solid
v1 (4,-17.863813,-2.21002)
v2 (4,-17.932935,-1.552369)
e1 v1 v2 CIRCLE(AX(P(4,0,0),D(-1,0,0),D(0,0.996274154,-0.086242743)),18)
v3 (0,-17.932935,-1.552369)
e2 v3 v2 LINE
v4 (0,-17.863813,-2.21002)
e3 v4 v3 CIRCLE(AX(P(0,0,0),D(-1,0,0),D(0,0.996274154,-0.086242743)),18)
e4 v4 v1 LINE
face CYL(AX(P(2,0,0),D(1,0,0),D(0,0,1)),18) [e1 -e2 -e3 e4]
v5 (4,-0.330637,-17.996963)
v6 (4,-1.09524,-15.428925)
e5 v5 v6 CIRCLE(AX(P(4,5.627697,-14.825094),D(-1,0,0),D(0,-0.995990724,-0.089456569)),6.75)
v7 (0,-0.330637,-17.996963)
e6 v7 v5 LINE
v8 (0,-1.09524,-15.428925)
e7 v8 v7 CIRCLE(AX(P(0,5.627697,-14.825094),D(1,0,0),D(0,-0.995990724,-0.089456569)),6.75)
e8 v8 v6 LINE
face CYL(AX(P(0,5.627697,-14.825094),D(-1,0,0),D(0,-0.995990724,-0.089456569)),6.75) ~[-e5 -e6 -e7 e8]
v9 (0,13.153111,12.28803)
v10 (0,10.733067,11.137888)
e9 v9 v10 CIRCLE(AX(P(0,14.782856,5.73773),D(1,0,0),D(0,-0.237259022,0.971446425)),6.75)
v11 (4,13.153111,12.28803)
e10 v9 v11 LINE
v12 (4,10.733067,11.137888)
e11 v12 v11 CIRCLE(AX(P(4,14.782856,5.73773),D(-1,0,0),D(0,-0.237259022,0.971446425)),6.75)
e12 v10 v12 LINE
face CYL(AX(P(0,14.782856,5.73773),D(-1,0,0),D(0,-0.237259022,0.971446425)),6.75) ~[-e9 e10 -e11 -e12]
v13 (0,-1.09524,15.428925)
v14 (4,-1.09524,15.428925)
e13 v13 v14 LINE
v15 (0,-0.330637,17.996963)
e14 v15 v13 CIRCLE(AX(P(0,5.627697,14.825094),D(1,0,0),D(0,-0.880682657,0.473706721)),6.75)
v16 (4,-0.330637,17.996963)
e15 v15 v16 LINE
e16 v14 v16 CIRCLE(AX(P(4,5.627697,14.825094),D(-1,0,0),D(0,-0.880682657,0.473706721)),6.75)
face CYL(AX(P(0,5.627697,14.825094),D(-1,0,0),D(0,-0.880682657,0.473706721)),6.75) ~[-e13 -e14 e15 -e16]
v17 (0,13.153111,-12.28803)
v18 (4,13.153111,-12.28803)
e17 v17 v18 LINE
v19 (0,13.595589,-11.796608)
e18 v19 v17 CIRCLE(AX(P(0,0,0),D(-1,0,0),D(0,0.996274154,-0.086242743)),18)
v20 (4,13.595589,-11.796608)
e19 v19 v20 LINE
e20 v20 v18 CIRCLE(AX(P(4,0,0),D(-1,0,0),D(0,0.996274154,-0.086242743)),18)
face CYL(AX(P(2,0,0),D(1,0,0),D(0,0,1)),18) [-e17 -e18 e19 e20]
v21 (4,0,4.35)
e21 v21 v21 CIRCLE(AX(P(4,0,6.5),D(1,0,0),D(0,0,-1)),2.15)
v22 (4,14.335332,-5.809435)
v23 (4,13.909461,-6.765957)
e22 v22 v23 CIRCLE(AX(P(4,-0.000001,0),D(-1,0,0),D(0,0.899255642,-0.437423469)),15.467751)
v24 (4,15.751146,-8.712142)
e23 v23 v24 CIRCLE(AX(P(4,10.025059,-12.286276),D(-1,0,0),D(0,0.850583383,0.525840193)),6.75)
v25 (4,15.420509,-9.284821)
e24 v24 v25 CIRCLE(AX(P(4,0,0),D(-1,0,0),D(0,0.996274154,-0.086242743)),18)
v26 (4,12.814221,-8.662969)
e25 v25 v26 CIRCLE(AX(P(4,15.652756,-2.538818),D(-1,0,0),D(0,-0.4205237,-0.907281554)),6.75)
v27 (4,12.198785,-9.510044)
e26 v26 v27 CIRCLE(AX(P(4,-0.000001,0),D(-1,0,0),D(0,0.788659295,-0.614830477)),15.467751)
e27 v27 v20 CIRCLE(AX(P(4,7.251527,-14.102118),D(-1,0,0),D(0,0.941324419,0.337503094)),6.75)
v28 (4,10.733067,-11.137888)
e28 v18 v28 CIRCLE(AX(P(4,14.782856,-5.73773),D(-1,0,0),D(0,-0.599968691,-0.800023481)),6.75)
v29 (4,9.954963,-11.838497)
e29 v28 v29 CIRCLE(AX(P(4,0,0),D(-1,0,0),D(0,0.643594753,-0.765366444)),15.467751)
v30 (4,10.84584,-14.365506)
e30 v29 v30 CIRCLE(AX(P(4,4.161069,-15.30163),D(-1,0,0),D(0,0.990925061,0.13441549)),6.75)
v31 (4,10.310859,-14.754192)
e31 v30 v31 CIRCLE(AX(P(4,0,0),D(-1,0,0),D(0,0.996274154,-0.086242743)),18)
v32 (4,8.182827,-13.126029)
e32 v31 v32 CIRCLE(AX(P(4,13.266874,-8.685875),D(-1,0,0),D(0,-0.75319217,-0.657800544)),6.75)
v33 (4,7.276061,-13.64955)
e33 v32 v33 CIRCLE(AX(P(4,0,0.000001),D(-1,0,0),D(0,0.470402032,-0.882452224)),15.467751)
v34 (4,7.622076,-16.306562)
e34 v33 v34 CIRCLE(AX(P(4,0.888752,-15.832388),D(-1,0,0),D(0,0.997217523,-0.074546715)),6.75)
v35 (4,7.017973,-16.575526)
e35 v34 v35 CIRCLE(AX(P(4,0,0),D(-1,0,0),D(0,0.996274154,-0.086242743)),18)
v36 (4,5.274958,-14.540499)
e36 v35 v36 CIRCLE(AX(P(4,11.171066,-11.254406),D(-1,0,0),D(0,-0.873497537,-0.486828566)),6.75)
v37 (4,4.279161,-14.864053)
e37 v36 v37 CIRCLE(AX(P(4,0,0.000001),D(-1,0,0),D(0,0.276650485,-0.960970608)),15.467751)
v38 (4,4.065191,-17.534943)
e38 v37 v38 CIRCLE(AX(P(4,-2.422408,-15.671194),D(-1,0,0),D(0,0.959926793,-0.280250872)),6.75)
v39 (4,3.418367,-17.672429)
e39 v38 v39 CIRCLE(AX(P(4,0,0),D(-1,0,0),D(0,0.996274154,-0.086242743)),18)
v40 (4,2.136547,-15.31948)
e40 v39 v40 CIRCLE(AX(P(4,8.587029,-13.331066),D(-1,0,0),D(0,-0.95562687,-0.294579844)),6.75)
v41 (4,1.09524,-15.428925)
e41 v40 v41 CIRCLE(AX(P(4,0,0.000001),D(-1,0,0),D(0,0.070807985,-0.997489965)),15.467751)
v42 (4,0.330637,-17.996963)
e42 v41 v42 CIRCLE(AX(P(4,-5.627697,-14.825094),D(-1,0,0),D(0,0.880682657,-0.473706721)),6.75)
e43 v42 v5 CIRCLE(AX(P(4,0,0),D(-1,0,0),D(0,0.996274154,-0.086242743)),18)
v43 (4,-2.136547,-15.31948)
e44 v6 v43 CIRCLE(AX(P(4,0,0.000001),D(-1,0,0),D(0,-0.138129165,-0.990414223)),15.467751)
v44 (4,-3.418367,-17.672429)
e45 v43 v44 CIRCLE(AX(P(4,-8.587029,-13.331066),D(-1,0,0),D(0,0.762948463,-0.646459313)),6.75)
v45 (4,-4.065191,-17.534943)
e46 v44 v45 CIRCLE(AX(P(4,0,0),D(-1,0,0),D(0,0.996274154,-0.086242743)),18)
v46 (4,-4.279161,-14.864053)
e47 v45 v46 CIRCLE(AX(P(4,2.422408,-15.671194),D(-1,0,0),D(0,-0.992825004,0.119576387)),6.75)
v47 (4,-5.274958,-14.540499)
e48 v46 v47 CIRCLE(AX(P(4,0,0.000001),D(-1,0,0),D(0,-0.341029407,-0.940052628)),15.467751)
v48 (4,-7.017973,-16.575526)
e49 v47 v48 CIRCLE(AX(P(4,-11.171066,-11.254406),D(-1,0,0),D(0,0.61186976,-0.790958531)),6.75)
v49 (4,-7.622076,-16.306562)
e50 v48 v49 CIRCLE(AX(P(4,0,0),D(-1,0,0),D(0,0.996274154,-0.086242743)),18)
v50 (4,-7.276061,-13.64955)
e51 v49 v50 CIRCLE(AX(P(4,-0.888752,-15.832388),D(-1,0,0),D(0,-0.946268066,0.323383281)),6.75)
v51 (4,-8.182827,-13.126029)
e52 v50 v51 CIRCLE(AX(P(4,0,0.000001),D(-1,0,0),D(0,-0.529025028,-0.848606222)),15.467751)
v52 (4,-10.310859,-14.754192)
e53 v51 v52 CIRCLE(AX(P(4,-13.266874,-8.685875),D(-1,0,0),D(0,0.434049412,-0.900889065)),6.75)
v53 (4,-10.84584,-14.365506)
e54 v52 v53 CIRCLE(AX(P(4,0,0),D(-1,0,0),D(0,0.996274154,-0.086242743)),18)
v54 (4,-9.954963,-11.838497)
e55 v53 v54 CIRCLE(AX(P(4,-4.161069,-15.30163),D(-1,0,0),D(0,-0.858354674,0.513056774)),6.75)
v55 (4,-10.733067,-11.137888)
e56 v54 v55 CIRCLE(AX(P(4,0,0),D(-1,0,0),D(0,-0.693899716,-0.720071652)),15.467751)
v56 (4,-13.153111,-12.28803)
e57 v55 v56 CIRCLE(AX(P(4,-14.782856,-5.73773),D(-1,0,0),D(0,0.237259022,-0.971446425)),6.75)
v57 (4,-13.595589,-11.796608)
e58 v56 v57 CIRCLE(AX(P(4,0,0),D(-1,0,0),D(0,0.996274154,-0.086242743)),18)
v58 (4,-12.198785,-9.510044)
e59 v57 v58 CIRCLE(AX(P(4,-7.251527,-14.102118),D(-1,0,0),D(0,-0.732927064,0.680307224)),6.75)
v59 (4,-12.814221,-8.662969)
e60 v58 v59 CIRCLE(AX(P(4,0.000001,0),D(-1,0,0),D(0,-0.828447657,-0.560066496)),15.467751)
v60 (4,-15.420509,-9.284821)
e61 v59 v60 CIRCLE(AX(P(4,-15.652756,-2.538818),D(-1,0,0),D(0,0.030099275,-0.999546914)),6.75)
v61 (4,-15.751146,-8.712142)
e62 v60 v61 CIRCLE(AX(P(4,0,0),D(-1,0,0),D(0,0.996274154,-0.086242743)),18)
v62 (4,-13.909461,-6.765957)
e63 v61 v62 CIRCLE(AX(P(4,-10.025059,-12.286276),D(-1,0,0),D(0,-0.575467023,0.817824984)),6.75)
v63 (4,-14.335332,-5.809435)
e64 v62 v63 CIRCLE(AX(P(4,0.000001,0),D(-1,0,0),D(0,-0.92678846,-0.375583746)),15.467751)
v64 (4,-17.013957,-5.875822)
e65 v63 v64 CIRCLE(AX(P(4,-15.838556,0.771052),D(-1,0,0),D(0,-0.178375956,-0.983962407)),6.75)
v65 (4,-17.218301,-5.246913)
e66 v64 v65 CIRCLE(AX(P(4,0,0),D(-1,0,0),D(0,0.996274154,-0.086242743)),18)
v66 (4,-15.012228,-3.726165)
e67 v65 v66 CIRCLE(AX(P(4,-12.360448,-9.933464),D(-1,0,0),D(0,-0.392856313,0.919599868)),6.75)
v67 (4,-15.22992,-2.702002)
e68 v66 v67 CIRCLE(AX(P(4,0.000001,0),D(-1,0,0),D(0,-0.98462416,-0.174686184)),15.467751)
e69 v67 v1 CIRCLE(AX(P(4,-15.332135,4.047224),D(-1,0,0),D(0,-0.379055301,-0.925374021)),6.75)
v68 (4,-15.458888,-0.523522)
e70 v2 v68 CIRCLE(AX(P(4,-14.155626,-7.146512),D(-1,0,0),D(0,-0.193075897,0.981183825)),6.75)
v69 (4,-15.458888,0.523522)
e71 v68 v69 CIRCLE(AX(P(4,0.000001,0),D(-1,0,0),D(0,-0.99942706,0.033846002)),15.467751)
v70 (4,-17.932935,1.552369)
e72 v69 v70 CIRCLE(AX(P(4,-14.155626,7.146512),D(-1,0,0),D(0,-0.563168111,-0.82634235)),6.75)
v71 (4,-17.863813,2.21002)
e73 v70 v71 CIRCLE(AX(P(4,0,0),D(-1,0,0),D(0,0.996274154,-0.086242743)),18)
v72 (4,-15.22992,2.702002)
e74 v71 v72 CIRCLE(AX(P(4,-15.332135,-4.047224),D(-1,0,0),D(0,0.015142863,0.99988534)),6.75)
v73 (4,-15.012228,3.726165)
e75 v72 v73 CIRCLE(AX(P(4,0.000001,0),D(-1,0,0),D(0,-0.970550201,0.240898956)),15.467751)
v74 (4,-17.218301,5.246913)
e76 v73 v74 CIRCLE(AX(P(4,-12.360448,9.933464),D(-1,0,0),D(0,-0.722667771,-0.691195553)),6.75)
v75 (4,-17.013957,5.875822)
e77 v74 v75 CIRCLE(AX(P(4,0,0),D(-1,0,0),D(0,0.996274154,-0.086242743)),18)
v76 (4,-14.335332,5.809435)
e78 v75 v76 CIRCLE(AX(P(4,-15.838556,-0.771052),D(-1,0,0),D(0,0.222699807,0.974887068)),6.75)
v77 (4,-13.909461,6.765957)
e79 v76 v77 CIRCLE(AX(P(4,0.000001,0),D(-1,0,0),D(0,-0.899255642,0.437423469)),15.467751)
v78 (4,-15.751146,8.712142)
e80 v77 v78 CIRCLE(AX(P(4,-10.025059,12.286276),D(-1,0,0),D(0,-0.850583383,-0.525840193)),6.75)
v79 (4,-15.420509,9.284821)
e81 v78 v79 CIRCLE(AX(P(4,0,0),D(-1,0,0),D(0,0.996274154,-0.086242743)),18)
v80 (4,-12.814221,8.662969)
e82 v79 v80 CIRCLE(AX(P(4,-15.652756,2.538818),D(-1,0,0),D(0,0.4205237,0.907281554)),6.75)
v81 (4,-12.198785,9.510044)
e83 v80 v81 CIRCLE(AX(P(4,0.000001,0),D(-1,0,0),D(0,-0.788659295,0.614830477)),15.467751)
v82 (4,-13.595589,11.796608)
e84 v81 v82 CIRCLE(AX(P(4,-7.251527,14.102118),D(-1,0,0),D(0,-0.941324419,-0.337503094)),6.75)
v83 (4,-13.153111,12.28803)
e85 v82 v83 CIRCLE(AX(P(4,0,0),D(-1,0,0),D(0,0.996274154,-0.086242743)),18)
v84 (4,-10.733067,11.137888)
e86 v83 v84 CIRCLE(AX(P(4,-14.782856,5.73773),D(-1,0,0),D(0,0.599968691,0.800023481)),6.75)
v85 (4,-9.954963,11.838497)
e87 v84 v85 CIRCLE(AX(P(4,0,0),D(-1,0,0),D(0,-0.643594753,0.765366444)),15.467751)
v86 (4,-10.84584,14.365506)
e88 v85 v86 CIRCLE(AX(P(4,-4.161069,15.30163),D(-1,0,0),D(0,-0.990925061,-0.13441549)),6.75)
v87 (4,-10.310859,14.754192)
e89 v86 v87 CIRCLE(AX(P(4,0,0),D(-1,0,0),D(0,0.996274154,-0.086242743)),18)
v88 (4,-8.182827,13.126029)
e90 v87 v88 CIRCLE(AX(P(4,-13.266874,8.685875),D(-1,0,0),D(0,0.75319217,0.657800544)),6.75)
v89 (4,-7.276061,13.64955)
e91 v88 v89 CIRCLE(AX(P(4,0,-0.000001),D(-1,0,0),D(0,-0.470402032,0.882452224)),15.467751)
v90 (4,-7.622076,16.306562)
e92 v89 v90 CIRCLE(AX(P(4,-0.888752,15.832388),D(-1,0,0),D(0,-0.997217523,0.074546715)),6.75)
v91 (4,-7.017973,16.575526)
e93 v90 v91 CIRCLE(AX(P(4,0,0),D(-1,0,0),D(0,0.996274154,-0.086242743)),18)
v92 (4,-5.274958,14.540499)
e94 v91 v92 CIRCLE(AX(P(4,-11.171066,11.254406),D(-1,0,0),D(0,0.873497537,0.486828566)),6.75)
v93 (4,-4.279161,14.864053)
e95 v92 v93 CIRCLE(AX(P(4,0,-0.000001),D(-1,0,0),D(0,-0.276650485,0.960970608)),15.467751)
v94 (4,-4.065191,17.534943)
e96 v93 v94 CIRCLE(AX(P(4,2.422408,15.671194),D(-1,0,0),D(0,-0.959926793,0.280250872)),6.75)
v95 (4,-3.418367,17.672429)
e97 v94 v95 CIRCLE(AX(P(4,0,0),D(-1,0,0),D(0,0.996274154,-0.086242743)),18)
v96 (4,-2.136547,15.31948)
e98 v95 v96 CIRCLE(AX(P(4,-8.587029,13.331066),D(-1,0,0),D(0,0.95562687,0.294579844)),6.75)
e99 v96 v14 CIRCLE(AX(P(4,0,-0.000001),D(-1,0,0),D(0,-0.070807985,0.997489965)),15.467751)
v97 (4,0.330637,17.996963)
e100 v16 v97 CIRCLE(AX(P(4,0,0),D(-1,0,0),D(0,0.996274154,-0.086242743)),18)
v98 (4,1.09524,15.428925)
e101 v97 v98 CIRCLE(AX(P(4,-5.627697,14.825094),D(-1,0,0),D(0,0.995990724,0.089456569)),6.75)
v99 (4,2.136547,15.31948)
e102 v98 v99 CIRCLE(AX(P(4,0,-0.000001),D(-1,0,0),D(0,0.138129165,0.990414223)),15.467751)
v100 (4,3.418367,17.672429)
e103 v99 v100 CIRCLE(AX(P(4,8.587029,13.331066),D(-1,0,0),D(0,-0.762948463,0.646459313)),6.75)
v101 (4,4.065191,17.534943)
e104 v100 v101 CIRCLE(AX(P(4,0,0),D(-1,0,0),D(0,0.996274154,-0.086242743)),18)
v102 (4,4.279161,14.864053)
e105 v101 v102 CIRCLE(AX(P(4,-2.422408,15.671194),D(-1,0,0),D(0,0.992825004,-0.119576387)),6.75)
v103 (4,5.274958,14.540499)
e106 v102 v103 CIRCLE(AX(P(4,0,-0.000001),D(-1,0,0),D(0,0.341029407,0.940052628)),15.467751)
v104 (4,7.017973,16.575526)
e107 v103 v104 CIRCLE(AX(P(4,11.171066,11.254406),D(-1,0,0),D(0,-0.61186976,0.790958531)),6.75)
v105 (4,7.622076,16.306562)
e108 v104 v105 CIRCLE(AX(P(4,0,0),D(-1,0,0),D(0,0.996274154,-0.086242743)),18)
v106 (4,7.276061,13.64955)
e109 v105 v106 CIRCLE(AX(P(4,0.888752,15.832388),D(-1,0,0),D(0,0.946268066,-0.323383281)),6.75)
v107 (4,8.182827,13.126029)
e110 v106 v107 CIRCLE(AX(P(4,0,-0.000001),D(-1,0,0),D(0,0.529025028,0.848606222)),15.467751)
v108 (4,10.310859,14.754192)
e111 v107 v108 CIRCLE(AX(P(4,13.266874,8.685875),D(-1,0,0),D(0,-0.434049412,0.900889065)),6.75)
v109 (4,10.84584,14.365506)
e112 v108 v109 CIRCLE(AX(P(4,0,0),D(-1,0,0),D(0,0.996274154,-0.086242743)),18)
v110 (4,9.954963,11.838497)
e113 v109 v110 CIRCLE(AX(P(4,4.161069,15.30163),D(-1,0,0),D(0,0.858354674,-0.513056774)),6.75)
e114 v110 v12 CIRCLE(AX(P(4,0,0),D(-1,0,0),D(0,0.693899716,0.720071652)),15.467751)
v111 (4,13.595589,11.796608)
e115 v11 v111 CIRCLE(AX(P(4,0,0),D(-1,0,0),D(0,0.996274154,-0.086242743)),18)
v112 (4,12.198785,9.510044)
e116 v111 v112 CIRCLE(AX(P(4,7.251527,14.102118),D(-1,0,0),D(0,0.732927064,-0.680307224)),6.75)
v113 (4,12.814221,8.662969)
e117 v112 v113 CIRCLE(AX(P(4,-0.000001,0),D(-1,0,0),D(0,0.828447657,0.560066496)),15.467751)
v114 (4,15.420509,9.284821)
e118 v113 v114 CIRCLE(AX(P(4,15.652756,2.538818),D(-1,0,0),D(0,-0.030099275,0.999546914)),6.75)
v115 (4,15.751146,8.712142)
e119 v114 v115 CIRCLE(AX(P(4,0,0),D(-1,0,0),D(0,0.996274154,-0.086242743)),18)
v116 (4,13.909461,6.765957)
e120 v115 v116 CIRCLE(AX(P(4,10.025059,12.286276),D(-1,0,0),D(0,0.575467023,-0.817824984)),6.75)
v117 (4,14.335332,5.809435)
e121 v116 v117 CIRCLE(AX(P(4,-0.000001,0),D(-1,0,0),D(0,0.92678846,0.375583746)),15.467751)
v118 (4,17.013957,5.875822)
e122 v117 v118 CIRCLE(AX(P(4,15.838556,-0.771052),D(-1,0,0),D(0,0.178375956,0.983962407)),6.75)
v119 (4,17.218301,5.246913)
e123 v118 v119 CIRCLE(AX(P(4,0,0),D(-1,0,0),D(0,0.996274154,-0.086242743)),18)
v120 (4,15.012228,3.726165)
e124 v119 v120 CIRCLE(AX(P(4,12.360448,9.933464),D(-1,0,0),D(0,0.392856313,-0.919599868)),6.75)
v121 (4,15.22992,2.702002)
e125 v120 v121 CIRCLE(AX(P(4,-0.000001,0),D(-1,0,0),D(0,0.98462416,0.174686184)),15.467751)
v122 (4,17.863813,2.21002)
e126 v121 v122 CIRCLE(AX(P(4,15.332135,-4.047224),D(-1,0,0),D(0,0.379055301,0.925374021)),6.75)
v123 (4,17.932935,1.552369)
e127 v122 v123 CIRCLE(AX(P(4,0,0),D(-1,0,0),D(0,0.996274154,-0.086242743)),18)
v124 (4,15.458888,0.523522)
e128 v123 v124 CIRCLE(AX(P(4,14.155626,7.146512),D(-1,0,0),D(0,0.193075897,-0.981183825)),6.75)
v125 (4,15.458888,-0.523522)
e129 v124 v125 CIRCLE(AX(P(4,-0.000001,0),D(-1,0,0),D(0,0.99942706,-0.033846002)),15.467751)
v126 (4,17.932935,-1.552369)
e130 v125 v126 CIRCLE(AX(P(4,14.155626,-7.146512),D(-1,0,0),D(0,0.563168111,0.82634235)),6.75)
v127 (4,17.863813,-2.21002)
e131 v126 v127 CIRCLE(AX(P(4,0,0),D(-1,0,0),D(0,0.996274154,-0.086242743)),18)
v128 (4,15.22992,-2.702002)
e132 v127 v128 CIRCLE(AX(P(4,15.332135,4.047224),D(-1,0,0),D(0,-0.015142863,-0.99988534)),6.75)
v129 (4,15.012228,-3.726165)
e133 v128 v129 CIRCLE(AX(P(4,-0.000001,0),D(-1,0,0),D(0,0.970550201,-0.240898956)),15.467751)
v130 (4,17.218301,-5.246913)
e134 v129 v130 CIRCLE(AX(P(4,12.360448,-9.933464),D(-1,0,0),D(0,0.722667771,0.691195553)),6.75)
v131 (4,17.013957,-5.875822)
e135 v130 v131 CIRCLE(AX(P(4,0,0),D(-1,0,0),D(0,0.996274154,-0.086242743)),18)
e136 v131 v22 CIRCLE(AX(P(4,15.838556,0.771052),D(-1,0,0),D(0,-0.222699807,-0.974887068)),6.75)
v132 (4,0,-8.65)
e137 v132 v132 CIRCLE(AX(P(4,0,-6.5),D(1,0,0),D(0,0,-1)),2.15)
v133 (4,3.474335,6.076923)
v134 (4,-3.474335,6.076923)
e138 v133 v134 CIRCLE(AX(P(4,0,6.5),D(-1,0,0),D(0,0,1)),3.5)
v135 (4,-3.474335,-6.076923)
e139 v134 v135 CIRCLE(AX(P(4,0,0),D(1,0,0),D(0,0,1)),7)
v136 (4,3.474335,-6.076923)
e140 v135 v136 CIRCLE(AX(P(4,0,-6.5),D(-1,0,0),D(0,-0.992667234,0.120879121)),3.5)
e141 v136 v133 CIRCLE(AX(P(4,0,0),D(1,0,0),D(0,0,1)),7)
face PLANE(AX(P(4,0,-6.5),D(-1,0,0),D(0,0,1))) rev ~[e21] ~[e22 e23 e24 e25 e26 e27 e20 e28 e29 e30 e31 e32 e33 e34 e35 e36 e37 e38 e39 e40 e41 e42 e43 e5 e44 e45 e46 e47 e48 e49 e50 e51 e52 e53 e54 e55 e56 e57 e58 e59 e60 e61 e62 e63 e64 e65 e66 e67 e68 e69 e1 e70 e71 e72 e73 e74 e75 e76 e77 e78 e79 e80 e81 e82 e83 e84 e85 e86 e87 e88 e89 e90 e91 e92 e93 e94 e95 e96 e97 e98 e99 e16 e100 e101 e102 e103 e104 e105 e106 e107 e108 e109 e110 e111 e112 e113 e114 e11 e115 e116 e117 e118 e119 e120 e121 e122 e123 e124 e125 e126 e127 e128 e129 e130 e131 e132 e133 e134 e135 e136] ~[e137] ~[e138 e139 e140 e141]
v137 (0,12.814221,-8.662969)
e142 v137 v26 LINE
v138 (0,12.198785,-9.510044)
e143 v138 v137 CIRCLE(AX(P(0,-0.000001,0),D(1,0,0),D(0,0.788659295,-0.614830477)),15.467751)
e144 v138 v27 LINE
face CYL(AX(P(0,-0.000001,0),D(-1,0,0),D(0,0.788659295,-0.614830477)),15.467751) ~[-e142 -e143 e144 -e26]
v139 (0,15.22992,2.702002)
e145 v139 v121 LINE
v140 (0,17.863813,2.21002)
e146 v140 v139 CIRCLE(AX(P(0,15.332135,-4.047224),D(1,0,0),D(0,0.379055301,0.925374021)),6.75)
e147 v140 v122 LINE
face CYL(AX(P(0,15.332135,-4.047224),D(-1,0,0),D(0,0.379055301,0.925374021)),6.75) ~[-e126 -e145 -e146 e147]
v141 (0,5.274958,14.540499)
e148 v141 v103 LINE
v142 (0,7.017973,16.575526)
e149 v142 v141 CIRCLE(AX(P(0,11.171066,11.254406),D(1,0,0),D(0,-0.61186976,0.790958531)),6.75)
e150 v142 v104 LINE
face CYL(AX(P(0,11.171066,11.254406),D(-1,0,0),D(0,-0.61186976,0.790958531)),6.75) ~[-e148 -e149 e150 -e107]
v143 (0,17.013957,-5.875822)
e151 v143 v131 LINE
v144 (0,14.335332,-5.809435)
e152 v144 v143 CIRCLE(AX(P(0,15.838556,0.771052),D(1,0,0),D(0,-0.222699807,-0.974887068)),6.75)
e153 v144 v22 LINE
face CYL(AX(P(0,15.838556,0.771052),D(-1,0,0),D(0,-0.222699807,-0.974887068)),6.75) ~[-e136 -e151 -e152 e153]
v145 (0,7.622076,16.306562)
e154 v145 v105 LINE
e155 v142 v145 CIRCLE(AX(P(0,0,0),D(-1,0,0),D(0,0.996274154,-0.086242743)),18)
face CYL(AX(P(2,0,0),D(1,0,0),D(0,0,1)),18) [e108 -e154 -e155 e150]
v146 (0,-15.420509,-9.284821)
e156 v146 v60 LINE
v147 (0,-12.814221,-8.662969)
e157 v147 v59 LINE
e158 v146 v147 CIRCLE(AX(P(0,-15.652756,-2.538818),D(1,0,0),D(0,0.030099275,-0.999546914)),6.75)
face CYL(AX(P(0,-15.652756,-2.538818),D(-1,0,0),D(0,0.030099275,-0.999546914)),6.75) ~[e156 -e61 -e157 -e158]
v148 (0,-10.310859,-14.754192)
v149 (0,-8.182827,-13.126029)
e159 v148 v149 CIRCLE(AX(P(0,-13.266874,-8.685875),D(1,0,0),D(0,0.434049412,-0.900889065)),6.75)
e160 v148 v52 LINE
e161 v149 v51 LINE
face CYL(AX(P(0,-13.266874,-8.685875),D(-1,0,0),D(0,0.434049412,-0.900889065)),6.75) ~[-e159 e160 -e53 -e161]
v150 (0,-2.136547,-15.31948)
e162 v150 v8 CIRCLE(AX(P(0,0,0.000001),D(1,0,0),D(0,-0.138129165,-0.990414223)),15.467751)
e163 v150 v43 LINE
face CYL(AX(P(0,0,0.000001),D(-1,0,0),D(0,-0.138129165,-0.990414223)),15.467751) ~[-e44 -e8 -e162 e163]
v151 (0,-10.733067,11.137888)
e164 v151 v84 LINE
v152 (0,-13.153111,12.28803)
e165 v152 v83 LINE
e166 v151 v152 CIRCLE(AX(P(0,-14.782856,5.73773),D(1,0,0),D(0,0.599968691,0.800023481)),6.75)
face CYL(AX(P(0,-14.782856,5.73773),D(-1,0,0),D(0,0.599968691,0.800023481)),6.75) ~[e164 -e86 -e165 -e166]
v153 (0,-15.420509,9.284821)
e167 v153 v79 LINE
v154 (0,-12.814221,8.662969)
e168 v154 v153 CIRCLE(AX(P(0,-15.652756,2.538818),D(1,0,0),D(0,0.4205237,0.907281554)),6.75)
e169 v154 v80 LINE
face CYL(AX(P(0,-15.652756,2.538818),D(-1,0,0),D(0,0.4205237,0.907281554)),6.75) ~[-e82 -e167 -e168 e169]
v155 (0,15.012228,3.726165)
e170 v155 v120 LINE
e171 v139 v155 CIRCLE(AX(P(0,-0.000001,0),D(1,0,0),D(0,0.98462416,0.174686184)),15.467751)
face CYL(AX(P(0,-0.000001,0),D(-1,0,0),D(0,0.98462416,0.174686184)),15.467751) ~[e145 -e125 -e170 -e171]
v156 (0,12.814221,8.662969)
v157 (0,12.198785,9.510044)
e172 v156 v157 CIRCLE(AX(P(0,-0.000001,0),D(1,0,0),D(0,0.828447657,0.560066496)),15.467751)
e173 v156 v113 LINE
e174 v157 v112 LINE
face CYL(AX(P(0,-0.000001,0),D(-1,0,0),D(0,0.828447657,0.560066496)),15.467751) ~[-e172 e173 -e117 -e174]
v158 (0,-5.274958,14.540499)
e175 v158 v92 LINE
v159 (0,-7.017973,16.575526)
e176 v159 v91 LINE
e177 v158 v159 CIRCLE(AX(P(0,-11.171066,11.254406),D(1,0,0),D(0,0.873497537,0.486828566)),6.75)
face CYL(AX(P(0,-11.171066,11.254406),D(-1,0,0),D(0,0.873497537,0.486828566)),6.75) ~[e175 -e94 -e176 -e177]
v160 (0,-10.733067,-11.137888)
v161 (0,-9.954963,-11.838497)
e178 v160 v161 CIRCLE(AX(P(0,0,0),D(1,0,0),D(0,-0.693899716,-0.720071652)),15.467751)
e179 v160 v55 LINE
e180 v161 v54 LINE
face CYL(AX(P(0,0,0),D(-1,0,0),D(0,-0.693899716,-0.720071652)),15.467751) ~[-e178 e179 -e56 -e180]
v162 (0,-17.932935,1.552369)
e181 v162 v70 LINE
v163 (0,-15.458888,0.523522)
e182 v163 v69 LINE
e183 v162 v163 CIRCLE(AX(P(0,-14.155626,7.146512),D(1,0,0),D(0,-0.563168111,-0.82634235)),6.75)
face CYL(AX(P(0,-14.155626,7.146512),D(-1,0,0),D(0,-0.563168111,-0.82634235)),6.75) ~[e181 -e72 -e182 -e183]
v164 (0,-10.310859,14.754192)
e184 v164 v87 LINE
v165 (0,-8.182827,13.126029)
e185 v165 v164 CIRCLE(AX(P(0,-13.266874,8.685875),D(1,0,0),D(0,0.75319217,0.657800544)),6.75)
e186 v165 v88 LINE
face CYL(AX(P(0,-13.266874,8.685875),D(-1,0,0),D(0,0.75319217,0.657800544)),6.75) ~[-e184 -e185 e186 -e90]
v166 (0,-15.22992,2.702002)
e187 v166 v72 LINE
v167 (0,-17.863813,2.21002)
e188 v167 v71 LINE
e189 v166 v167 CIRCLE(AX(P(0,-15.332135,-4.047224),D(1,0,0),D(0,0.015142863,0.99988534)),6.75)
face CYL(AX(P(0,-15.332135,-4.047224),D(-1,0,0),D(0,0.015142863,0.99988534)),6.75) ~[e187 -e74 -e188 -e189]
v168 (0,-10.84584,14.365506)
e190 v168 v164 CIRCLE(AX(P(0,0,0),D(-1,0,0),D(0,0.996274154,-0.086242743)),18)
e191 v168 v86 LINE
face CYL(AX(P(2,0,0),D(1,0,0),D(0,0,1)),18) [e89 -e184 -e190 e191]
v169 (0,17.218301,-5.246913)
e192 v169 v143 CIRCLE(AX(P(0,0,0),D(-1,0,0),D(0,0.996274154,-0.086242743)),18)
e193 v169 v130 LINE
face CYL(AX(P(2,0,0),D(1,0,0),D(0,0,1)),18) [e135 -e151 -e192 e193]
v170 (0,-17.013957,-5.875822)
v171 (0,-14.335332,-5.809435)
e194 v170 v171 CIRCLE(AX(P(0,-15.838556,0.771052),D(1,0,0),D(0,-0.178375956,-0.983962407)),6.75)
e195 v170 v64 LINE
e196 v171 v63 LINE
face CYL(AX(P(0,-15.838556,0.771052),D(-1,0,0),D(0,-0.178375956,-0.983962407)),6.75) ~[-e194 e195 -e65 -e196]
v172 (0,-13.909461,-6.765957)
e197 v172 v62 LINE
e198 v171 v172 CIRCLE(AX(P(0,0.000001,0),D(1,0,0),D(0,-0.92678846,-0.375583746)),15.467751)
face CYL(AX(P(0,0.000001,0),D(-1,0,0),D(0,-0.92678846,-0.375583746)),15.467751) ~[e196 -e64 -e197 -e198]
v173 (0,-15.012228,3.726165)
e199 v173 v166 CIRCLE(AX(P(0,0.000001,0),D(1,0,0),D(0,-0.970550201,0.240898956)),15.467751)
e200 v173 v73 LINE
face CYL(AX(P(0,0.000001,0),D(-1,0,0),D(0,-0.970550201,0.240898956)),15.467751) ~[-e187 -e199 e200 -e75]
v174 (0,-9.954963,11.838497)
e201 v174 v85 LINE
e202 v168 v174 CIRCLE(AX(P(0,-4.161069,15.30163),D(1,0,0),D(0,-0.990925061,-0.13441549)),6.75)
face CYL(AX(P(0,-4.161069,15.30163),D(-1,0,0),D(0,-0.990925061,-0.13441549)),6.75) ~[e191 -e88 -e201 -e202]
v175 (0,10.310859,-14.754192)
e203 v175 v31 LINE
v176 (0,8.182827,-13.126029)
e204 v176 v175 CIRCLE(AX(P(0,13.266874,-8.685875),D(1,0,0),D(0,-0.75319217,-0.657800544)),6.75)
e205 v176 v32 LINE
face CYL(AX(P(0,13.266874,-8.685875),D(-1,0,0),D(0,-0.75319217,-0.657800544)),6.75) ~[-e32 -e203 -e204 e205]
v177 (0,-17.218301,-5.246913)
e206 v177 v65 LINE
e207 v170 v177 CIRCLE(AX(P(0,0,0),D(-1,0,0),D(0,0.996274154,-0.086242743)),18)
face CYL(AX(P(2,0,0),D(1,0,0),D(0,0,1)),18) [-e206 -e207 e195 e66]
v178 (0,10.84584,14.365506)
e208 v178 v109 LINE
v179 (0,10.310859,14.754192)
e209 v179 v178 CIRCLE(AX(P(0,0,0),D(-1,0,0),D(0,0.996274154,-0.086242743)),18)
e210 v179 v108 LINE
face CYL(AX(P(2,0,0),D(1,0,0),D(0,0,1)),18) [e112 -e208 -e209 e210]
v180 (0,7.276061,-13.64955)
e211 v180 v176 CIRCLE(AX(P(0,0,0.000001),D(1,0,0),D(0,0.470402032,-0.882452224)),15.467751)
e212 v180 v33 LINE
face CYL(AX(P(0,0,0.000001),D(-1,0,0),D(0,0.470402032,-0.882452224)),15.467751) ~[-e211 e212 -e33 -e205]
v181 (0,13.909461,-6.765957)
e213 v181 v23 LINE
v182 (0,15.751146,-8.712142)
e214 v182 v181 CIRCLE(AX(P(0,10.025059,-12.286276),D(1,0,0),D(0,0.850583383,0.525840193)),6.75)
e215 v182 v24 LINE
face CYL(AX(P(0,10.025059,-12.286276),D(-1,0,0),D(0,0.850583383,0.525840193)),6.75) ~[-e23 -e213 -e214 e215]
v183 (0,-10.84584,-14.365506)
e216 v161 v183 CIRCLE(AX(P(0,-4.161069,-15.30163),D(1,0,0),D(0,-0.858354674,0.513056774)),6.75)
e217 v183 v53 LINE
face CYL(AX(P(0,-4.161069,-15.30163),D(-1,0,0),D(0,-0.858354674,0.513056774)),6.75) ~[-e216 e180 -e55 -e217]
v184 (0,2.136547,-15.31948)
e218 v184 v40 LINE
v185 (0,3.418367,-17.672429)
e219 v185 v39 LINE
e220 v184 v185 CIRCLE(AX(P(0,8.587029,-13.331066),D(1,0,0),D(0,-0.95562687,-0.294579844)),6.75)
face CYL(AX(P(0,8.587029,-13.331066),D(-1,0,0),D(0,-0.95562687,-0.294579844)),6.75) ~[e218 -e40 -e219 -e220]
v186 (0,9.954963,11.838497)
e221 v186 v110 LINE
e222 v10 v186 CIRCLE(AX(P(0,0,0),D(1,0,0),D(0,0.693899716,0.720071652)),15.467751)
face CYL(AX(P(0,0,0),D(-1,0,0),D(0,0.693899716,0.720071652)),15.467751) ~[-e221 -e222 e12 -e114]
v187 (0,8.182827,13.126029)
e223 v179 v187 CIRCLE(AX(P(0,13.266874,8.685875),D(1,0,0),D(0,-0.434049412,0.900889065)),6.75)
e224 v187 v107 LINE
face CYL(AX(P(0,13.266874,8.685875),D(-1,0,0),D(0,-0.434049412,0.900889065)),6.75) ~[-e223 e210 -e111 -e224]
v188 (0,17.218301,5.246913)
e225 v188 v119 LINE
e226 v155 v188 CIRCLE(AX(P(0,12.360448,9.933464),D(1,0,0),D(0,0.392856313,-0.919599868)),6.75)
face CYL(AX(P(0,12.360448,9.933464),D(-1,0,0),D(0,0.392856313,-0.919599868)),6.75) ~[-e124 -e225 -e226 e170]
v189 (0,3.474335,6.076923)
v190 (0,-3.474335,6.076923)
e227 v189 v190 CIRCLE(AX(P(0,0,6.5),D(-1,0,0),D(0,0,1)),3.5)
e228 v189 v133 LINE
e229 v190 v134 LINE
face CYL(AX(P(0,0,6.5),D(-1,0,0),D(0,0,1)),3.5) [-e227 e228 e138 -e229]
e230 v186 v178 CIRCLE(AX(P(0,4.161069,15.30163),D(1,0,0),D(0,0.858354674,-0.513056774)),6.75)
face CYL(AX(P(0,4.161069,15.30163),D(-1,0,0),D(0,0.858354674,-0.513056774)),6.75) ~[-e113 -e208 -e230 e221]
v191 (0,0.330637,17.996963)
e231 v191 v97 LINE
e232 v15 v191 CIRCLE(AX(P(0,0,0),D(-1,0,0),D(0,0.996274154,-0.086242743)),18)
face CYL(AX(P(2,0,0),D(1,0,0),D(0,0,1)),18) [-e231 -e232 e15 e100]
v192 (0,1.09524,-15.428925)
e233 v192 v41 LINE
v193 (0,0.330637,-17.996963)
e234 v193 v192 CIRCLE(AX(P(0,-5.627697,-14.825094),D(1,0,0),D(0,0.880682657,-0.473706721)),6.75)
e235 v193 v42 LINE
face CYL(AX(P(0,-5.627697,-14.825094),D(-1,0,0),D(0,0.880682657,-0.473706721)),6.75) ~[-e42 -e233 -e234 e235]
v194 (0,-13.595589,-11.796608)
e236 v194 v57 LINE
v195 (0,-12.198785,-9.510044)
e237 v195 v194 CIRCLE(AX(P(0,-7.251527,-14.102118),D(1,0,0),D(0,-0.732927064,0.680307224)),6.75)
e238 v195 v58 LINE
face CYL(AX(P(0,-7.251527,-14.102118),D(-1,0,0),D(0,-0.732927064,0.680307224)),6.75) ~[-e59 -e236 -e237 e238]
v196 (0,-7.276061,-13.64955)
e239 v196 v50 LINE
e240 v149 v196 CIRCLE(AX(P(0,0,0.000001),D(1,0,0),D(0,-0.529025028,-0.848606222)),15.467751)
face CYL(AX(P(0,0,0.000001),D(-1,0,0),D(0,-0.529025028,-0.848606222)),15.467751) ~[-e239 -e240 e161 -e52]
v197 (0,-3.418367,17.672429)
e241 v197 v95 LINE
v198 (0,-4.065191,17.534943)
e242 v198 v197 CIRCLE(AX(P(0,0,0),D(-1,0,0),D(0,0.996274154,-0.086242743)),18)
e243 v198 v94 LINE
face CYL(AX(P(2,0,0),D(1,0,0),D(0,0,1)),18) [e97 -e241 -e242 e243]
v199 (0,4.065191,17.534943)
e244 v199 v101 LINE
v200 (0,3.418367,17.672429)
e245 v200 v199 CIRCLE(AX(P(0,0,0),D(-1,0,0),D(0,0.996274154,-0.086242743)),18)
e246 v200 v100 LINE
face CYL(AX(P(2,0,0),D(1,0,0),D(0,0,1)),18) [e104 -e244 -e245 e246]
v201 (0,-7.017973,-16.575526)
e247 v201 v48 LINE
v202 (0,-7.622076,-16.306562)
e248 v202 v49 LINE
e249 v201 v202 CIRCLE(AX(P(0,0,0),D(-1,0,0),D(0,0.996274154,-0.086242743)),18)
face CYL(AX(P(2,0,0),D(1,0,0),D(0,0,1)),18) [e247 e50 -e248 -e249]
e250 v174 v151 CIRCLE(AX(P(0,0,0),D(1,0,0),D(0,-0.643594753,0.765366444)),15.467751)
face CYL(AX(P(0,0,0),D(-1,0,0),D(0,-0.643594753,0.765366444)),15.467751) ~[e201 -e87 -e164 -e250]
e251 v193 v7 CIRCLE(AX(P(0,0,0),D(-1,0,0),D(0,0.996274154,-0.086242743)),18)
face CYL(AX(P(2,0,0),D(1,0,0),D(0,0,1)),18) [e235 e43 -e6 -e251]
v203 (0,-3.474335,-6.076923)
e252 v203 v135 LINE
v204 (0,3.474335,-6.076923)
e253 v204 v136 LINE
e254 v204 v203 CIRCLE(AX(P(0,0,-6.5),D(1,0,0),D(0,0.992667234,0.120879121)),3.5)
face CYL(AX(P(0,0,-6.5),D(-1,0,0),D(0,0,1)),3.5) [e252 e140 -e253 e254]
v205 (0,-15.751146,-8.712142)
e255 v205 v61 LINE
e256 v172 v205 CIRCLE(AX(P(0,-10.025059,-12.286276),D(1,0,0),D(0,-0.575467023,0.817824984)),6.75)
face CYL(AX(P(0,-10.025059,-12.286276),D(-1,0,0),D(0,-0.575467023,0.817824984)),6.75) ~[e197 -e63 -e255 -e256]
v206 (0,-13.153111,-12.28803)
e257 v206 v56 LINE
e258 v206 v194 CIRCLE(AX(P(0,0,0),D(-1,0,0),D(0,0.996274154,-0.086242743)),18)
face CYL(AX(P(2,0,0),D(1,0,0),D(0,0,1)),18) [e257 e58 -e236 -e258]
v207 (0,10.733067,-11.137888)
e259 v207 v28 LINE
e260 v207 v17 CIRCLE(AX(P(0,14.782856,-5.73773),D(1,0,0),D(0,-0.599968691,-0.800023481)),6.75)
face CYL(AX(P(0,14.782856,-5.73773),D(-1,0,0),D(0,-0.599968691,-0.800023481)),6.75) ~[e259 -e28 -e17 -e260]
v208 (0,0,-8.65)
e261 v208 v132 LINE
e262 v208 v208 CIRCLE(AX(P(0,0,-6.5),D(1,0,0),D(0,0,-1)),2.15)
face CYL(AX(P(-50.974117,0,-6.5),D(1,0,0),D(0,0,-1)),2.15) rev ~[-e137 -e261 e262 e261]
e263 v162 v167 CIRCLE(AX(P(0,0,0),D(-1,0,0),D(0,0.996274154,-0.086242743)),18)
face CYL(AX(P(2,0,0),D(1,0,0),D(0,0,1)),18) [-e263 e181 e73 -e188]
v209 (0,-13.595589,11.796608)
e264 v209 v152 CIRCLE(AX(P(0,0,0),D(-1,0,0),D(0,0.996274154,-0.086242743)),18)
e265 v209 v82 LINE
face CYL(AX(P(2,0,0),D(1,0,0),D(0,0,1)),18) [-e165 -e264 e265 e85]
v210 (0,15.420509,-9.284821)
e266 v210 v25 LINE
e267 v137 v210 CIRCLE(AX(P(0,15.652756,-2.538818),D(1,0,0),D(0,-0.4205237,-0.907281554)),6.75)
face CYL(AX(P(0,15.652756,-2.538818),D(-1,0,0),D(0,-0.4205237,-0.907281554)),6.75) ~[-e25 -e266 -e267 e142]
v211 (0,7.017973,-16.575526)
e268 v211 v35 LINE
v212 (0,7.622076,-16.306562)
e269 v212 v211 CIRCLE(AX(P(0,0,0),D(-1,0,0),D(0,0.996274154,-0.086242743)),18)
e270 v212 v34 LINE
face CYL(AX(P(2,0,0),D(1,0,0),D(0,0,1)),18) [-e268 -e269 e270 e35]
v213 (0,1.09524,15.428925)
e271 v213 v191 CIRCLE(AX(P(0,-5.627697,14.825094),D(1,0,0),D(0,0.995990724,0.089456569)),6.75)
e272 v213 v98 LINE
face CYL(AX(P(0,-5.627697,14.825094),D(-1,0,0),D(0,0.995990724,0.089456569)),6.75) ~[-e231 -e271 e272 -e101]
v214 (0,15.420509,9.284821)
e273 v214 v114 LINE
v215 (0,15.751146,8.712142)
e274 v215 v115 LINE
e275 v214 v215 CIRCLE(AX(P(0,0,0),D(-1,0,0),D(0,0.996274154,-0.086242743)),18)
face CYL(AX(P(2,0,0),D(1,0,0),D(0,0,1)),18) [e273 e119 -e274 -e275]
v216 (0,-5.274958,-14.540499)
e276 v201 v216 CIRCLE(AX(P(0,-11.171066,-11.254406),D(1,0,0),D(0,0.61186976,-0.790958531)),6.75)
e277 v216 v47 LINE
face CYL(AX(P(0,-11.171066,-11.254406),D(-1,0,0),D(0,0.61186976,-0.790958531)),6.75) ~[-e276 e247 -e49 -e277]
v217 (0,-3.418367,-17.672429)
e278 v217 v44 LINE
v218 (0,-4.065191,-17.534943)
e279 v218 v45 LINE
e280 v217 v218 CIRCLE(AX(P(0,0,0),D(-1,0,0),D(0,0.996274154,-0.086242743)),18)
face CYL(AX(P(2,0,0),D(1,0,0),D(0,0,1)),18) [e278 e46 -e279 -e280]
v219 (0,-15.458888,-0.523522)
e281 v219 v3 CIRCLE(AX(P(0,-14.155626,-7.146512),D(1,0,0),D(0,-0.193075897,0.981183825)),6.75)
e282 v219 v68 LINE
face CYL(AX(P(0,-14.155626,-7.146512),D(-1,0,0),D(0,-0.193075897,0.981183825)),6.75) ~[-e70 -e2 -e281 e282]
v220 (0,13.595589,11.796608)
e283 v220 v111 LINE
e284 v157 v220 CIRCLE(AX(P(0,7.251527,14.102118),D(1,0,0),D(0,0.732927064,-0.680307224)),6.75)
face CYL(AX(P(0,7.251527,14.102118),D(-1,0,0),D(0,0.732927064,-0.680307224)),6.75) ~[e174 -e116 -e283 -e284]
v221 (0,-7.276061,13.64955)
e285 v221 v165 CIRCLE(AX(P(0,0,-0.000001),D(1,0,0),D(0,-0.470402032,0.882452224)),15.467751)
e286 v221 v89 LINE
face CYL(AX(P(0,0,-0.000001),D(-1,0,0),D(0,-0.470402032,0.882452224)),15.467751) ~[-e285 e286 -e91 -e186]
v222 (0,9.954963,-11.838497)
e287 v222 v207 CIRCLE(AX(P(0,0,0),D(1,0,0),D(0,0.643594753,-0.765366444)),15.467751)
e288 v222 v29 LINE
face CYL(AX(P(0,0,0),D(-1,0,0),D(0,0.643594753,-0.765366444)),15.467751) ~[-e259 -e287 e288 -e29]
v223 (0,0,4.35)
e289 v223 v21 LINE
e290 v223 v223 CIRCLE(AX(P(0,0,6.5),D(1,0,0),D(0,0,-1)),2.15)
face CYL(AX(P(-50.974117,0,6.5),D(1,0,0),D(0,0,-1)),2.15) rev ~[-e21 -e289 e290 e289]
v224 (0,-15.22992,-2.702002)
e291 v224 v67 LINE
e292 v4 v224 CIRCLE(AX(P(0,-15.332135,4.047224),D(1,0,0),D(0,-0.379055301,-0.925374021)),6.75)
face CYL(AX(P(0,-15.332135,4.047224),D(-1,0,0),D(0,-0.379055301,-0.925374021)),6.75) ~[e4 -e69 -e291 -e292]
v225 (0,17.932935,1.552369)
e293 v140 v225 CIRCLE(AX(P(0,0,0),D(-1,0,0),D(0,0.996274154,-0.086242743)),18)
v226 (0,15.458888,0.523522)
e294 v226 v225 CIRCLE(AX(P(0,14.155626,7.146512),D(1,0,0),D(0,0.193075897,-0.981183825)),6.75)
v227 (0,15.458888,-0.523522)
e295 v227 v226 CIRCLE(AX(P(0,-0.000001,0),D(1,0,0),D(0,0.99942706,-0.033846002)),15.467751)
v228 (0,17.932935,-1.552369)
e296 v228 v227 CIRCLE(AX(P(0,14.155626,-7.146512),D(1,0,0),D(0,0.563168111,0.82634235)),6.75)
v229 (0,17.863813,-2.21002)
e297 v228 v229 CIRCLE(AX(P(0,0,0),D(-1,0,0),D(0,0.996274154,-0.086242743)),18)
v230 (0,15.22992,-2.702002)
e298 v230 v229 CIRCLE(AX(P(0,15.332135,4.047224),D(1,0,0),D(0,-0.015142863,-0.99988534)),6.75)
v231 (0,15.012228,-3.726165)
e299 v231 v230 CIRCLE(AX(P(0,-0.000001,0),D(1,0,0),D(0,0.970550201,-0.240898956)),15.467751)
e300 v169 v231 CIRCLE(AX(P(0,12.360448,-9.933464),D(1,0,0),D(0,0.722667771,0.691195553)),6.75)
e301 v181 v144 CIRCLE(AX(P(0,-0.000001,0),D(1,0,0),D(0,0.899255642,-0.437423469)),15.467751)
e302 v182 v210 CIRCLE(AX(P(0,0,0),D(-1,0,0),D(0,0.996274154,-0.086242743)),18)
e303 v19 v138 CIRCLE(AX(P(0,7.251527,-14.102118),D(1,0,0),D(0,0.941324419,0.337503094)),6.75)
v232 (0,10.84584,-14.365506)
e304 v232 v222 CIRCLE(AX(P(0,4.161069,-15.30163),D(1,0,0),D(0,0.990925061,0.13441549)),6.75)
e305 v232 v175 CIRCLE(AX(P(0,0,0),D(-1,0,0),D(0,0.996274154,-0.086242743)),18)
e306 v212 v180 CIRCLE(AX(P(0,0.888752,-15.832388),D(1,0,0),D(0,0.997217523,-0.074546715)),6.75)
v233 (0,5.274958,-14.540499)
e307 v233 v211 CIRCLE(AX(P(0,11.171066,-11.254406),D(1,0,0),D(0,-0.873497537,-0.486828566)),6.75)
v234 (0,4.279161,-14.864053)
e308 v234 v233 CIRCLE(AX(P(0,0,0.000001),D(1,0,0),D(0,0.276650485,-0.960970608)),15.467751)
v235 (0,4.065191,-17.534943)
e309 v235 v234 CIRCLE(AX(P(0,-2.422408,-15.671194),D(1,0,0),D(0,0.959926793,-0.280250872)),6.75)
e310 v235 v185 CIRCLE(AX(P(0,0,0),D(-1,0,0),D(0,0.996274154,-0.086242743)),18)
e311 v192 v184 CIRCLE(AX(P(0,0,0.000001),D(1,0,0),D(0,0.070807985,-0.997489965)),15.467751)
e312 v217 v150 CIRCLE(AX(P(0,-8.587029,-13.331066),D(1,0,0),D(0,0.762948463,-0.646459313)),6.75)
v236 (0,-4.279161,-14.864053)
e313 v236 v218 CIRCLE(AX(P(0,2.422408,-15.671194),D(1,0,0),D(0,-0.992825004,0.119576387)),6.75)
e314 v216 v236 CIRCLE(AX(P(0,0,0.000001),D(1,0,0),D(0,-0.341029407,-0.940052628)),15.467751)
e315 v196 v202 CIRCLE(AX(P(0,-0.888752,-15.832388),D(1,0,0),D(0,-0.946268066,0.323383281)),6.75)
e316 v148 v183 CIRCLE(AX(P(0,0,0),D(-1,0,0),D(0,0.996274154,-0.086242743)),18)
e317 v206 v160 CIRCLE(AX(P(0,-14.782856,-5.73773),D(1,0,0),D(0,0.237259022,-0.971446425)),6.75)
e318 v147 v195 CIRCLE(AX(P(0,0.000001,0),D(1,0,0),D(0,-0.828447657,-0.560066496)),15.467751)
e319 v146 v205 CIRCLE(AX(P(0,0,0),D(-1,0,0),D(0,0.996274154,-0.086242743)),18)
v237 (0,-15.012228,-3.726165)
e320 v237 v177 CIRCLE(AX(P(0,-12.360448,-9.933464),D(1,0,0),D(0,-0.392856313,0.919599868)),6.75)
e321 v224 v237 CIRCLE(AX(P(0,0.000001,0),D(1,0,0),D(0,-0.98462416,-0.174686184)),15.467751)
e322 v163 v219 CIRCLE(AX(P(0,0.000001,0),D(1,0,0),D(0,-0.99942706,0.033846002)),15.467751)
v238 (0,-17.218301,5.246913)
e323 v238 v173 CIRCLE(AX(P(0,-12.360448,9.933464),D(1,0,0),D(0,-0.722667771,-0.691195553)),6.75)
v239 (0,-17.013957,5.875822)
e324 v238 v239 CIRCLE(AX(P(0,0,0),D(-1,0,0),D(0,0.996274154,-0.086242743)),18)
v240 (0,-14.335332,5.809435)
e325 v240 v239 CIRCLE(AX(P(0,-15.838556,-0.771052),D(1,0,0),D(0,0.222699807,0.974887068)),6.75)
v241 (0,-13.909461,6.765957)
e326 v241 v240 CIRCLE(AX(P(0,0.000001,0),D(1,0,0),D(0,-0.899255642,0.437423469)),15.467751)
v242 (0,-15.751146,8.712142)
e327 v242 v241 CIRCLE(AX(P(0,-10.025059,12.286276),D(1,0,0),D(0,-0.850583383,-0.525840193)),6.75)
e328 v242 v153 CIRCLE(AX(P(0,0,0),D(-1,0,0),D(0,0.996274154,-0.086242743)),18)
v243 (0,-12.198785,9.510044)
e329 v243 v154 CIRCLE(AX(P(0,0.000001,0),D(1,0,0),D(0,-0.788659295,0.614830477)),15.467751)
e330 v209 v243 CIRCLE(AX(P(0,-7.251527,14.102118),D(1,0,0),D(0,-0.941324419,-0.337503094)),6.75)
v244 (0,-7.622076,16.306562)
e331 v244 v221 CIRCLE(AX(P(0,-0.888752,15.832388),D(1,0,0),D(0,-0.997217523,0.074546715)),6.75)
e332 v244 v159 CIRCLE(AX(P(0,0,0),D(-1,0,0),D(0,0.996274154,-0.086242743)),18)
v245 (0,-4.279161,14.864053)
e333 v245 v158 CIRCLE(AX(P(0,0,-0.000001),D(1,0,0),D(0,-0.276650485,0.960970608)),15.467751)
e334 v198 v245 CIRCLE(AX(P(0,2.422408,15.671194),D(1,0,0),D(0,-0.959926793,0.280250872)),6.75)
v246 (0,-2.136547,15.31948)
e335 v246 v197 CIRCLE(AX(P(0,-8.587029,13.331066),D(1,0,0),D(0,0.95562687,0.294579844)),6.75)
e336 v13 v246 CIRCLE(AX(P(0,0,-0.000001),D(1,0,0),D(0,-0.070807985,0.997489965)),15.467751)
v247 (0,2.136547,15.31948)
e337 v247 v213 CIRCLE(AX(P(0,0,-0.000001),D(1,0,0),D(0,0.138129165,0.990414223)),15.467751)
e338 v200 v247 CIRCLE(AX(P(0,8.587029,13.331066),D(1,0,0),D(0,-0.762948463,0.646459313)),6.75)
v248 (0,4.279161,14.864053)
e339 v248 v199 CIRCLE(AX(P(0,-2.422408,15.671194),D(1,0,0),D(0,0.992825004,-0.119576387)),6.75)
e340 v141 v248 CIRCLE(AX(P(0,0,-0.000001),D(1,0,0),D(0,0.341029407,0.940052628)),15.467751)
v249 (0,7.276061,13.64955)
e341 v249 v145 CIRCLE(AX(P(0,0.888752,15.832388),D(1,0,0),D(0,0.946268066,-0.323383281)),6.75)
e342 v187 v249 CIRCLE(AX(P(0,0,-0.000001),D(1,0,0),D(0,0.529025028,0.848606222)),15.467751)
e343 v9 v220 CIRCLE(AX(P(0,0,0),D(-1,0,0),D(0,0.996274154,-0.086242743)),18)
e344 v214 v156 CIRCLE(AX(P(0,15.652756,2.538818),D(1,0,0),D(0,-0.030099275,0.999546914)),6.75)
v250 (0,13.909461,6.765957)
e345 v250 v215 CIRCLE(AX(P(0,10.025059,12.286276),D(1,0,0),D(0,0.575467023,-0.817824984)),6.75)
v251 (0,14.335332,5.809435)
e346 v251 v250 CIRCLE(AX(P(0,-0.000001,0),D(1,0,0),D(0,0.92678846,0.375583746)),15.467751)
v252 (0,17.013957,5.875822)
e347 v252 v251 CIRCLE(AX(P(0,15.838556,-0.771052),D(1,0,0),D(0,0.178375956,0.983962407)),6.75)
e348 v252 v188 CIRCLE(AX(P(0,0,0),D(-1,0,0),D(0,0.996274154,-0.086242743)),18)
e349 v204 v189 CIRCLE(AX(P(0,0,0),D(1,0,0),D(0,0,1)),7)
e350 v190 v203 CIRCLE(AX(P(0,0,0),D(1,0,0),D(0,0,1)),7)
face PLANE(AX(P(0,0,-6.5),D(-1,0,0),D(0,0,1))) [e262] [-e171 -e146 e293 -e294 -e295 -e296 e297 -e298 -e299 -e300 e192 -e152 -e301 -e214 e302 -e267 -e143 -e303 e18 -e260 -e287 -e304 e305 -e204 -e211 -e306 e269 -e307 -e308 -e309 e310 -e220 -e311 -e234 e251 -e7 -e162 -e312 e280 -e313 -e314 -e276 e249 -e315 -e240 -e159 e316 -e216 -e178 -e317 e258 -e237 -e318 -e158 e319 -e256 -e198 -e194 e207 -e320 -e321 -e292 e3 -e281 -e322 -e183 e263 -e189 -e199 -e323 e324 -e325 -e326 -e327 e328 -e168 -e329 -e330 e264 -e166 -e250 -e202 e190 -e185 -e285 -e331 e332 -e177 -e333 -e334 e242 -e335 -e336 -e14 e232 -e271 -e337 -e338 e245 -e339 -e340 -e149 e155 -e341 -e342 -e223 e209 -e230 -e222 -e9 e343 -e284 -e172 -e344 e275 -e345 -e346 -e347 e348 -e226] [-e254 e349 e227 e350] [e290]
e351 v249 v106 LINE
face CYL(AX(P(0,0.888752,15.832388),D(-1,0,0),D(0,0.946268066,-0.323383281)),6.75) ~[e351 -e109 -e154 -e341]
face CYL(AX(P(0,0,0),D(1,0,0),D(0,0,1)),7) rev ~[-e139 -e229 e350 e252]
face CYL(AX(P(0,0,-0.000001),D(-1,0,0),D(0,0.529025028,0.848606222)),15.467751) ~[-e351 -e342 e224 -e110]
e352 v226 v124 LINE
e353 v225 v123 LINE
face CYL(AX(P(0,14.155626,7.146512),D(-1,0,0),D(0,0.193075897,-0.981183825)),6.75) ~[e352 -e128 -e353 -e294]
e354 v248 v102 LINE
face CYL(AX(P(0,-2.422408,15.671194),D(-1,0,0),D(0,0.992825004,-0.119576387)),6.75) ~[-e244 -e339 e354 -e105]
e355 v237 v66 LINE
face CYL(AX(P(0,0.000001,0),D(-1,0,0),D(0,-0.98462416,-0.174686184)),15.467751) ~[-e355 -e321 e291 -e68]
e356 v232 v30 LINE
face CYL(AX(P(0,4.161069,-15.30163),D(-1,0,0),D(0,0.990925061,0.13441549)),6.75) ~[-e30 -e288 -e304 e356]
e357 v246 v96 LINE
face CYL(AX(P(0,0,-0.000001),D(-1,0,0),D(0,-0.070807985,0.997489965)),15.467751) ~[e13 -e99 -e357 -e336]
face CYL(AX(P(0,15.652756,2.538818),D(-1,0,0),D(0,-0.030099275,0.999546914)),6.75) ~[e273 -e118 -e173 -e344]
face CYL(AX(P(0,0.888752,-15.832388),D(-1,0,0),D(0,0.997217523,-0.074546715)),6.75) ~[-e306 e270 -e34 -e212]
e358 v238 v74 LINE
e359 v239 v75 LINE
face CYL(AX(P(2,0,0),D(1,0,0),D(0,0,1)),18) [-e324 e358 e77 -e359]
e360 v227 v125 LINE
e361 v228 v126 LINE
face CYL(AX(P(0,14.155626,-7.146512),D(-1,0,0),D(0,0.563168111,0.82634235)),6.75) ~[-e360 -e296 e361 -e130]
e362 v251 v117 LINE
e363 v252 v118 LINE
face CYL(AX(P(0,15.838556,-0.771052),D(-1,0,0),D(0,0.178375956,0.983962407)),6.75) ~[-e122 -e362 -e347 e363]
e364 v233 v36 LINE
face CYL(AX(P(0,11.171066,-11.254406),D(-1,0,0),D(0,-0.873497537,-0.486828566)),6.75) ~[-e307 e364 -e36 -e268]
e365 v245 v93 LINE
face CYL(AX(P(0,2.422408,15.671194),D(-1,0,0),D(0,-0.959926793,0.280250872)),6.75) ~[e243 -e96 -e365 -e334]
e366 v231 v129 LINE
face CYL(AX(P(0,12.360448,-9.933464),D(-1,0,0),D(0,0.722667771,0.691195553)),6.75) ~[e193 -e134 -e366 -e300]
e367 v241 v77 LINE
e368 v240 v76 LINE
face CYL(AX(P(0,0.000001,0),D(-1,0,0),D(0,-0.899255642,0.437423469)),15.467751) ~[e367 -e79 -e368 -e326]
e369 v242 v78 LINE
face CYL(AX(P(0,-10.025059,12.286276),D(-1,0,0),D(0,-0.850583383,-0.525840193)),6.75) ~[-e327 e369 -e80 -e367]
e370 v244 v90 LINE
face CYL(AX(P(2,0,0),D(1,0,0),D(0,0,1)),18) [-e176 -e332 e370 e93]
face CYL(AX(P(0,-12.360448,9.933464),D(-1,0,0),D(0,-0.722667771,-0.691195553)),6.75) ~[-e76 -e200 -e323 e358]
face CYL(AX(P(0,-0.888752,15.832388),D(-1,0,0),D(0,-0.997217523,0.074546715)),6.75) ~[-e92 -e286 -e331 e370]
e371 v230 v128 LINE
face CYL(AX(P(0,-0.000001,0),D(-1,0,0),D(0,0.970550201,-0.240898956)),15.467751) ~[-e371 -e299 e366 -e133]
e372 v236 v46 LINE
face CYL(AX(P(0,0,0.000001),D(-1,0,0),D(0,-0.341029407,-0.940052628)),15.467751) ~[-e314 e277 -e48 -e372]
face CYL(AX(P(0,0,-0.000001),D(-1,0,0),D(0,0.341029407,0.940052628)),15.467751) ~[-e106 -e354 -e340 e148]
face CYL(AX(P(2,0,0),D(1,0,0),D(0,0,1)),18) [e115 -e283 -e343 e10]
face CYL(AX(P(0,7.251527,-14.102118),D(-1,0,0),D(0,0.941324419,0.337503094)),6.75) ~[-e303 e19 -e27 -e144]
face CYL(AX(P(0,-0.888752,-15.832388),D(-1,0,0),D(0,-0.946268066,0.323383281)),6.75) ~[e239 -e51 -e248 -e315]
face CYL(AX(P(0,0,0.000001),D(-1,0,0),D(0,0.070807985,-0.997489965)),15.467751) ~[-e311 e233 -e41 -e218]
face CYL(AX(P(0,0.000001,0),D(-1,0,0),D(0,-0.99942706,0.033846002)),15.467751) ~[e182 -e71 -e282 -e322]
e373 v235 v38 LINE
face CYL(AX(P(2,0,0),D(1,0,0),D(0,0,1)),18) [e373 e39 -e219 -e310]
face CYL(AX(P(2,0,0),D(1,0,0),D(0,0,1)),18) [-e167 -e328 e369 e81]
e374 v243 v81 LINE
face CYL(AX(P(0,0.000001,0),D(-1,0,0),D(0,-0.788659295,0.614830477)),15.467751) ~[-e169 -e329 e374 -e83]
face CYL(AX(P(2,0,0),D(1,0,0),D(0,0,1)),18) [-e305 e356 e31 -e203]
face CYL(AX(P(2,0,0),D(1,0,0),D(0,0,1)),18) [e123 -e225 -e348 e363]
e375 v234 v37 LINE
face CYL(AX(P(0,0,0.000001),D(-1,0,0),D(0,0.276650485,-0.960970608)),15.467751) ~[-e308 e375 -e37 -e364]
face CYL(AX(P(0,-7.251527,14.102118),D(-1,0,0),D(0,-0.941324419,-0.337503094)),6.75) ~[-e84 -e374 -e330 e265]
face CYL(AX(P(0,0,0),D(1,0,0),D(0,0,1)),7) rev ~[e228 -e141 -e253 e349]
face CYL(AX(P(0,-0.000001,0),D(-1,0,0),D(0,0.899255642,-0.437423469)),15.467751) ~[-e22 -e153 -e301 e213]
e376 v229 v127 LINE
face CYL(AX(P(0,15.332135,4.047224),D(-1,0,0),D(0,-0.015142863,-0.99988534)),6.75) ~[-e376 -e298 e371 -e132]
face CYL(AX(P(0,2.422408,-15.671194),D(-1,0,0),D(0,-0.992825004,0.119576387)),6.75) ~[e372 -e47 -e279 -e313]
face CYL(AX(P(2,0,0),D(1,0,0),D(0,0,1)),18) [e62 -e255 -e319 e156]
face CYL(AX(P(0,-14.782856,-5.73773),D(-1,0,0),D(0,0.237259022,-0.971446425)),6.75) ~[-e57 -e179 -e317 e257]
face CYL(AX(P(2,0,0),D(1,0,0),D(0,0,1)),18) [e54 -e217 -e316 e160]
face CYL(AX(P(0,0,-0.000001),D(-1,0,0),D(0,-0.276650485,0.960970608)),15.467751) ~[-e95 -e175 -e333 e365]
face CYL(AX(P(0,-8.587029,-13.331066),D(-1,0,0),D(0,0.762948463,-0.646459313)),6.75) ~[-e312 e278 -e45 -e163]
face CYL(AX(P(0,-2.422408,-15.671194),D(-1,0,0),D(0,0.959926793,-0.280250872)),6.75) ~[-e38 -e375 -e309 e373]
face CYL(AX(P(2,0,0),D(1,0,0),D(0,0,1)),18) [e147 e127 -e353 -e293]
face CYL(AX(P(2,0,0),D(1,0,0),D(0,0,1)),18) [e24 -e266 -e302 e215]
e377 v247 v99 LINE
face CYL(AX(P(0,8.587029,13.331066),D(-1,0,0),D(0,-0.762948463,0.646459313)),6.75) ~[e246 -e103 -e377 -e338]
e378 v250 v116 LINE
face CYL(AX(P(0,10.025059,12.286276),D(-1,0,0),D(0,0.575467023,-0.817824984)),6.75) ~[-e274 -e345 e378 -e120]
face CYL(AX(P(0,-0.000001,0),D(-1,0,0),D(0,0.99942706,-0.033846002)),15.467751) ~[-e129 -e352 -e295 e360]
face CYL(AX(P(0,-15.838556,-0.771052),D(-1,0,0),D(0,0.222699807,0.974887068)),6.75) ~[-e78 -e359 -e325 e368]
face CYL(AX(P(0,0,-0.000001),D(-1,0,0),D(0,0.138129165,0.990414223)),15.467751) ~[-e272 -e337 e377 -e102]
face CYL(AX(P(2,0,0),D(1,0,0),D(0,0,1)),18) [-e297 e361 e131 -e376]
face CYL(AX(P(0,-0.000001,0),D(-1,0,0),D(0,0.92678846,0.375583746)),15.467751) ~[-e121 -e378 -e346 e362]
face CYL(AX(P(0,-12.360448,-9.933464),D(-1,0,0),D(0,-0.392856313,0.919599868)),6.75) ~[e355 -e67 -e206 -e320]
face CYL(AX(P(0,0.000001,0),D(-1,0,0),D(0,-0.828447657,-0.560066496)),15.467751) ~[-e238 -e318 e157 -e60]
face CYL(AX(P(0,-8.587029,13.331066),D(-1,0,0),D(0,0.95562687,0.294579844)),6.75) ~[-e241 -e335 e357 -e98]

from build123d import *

# Parameters (mm, degrees)
BASPROSKE_W          = 4
BASPROSKE_H          = 18
TOOTHCUT_DEPTH       = 26.768197453
TEETHCUTS_COUNT      = 30
TEETHCUTS_ANGLE      = 348
BORSKE_R             = 7
BORE_DEPTH           = 50.0000508
SKETCH2_R            = 3.5
BOSS_EXTRUDE1_DEPTH  = 4
M4_CLEARANCE_HOLE1_D = 4.3


with BuildPart() as part:
    # BasProSke → Base-Revolve (revolve)
    with BuildSketch(Plane(origin=(0, 0, 0), x_dir=(1, 0, 0), z_dir=(0, 1, 0)), mode=Mode.PRIVATE) as base_revolve_sk:
        with Locations((2, 9)):
            Rectangle(BASPROSKE_W, BASPROSKE_H)
    revolve(base_revolve_sk.sketch.rotate(Axis((-10, 0, 0), (1, 0, 0)), 180), axis=Axis((-10, 0, 0), (1, 0, 0)))

    # TooCutSke → ToothCut (cut, through all)
    with BuildSketch(Plane(origin=(0, 0, 0), x_dir=(0, 0, -1), z_dir=(1, 0, 0))):
        with BuildLine():
            ThreePointArc((0.523521522, 15.458887906), (0, 15.46775), (-0.523521522, 15.458887906))
            ThreePointArc((-0.523521522, 15.458887906), (-0.919551256, 16.760900189), (-1.568701479, 17.957010353))
            ThreePointArc((-1.568701479, 17.957010353), (0, 18.0254), (1.568701479, 17.957010353))
            ThreePointArc((1.568701479, 17.957010353), (0.919551256, 16.760900189), (0.523521522, 15.458887906))
        make_face()
    toothcut = extrude(amount=TOOTHCUT_DEPTH, mode=Mode.SUBTRACT)

    # TeethCuts: ToothCut ×30 about axis
    teethcuts_axis = Axis((-10, 0, 0), (1, 0, 0))
    for i in range(1, TEETHCUTS_COUNT):
        add(toothcut.rotate(teethcuts_axis, i * TEETHCUTS_ANGLE / (TEETHCUTS_COUNT - 1)), mode=Mode.SUBTRACT)

    # BorSke → Bore (cut, symmetric)
    with BuildSketch(Plane(origin=(0, 0, 0), x_dir=(0, 0, -1), z_dir=(1, 0, 0))):
        with Locations(Location((0, 0, 0), (0, 0, 180))):
            Circle(BORSKE_R)
    extrude(amount=BORE_DEPTH, both=True, mode=Mode.SUBTRACT)

    # Sketch2 → Boss-Extrude1 (add)
    with BuildSketch(Plane.ZY):
        with Locations((-6.5, 0)):
            Circle(SKETCH2_R)
        with Locations((6.5, 0)):
            Circle(SKETCH2_R)
    extrude(amount=-BOSS_EXTRUDE1_DEPTH)

    # M4 Clearance Hole1 (through all)
    with Locations(Plane.ZY):
        with Locations((-6.5, 0), (6.5, 0)):
            Hole(M4_CLEARANCE_HOLE1_D / 2)


solid = part.part
